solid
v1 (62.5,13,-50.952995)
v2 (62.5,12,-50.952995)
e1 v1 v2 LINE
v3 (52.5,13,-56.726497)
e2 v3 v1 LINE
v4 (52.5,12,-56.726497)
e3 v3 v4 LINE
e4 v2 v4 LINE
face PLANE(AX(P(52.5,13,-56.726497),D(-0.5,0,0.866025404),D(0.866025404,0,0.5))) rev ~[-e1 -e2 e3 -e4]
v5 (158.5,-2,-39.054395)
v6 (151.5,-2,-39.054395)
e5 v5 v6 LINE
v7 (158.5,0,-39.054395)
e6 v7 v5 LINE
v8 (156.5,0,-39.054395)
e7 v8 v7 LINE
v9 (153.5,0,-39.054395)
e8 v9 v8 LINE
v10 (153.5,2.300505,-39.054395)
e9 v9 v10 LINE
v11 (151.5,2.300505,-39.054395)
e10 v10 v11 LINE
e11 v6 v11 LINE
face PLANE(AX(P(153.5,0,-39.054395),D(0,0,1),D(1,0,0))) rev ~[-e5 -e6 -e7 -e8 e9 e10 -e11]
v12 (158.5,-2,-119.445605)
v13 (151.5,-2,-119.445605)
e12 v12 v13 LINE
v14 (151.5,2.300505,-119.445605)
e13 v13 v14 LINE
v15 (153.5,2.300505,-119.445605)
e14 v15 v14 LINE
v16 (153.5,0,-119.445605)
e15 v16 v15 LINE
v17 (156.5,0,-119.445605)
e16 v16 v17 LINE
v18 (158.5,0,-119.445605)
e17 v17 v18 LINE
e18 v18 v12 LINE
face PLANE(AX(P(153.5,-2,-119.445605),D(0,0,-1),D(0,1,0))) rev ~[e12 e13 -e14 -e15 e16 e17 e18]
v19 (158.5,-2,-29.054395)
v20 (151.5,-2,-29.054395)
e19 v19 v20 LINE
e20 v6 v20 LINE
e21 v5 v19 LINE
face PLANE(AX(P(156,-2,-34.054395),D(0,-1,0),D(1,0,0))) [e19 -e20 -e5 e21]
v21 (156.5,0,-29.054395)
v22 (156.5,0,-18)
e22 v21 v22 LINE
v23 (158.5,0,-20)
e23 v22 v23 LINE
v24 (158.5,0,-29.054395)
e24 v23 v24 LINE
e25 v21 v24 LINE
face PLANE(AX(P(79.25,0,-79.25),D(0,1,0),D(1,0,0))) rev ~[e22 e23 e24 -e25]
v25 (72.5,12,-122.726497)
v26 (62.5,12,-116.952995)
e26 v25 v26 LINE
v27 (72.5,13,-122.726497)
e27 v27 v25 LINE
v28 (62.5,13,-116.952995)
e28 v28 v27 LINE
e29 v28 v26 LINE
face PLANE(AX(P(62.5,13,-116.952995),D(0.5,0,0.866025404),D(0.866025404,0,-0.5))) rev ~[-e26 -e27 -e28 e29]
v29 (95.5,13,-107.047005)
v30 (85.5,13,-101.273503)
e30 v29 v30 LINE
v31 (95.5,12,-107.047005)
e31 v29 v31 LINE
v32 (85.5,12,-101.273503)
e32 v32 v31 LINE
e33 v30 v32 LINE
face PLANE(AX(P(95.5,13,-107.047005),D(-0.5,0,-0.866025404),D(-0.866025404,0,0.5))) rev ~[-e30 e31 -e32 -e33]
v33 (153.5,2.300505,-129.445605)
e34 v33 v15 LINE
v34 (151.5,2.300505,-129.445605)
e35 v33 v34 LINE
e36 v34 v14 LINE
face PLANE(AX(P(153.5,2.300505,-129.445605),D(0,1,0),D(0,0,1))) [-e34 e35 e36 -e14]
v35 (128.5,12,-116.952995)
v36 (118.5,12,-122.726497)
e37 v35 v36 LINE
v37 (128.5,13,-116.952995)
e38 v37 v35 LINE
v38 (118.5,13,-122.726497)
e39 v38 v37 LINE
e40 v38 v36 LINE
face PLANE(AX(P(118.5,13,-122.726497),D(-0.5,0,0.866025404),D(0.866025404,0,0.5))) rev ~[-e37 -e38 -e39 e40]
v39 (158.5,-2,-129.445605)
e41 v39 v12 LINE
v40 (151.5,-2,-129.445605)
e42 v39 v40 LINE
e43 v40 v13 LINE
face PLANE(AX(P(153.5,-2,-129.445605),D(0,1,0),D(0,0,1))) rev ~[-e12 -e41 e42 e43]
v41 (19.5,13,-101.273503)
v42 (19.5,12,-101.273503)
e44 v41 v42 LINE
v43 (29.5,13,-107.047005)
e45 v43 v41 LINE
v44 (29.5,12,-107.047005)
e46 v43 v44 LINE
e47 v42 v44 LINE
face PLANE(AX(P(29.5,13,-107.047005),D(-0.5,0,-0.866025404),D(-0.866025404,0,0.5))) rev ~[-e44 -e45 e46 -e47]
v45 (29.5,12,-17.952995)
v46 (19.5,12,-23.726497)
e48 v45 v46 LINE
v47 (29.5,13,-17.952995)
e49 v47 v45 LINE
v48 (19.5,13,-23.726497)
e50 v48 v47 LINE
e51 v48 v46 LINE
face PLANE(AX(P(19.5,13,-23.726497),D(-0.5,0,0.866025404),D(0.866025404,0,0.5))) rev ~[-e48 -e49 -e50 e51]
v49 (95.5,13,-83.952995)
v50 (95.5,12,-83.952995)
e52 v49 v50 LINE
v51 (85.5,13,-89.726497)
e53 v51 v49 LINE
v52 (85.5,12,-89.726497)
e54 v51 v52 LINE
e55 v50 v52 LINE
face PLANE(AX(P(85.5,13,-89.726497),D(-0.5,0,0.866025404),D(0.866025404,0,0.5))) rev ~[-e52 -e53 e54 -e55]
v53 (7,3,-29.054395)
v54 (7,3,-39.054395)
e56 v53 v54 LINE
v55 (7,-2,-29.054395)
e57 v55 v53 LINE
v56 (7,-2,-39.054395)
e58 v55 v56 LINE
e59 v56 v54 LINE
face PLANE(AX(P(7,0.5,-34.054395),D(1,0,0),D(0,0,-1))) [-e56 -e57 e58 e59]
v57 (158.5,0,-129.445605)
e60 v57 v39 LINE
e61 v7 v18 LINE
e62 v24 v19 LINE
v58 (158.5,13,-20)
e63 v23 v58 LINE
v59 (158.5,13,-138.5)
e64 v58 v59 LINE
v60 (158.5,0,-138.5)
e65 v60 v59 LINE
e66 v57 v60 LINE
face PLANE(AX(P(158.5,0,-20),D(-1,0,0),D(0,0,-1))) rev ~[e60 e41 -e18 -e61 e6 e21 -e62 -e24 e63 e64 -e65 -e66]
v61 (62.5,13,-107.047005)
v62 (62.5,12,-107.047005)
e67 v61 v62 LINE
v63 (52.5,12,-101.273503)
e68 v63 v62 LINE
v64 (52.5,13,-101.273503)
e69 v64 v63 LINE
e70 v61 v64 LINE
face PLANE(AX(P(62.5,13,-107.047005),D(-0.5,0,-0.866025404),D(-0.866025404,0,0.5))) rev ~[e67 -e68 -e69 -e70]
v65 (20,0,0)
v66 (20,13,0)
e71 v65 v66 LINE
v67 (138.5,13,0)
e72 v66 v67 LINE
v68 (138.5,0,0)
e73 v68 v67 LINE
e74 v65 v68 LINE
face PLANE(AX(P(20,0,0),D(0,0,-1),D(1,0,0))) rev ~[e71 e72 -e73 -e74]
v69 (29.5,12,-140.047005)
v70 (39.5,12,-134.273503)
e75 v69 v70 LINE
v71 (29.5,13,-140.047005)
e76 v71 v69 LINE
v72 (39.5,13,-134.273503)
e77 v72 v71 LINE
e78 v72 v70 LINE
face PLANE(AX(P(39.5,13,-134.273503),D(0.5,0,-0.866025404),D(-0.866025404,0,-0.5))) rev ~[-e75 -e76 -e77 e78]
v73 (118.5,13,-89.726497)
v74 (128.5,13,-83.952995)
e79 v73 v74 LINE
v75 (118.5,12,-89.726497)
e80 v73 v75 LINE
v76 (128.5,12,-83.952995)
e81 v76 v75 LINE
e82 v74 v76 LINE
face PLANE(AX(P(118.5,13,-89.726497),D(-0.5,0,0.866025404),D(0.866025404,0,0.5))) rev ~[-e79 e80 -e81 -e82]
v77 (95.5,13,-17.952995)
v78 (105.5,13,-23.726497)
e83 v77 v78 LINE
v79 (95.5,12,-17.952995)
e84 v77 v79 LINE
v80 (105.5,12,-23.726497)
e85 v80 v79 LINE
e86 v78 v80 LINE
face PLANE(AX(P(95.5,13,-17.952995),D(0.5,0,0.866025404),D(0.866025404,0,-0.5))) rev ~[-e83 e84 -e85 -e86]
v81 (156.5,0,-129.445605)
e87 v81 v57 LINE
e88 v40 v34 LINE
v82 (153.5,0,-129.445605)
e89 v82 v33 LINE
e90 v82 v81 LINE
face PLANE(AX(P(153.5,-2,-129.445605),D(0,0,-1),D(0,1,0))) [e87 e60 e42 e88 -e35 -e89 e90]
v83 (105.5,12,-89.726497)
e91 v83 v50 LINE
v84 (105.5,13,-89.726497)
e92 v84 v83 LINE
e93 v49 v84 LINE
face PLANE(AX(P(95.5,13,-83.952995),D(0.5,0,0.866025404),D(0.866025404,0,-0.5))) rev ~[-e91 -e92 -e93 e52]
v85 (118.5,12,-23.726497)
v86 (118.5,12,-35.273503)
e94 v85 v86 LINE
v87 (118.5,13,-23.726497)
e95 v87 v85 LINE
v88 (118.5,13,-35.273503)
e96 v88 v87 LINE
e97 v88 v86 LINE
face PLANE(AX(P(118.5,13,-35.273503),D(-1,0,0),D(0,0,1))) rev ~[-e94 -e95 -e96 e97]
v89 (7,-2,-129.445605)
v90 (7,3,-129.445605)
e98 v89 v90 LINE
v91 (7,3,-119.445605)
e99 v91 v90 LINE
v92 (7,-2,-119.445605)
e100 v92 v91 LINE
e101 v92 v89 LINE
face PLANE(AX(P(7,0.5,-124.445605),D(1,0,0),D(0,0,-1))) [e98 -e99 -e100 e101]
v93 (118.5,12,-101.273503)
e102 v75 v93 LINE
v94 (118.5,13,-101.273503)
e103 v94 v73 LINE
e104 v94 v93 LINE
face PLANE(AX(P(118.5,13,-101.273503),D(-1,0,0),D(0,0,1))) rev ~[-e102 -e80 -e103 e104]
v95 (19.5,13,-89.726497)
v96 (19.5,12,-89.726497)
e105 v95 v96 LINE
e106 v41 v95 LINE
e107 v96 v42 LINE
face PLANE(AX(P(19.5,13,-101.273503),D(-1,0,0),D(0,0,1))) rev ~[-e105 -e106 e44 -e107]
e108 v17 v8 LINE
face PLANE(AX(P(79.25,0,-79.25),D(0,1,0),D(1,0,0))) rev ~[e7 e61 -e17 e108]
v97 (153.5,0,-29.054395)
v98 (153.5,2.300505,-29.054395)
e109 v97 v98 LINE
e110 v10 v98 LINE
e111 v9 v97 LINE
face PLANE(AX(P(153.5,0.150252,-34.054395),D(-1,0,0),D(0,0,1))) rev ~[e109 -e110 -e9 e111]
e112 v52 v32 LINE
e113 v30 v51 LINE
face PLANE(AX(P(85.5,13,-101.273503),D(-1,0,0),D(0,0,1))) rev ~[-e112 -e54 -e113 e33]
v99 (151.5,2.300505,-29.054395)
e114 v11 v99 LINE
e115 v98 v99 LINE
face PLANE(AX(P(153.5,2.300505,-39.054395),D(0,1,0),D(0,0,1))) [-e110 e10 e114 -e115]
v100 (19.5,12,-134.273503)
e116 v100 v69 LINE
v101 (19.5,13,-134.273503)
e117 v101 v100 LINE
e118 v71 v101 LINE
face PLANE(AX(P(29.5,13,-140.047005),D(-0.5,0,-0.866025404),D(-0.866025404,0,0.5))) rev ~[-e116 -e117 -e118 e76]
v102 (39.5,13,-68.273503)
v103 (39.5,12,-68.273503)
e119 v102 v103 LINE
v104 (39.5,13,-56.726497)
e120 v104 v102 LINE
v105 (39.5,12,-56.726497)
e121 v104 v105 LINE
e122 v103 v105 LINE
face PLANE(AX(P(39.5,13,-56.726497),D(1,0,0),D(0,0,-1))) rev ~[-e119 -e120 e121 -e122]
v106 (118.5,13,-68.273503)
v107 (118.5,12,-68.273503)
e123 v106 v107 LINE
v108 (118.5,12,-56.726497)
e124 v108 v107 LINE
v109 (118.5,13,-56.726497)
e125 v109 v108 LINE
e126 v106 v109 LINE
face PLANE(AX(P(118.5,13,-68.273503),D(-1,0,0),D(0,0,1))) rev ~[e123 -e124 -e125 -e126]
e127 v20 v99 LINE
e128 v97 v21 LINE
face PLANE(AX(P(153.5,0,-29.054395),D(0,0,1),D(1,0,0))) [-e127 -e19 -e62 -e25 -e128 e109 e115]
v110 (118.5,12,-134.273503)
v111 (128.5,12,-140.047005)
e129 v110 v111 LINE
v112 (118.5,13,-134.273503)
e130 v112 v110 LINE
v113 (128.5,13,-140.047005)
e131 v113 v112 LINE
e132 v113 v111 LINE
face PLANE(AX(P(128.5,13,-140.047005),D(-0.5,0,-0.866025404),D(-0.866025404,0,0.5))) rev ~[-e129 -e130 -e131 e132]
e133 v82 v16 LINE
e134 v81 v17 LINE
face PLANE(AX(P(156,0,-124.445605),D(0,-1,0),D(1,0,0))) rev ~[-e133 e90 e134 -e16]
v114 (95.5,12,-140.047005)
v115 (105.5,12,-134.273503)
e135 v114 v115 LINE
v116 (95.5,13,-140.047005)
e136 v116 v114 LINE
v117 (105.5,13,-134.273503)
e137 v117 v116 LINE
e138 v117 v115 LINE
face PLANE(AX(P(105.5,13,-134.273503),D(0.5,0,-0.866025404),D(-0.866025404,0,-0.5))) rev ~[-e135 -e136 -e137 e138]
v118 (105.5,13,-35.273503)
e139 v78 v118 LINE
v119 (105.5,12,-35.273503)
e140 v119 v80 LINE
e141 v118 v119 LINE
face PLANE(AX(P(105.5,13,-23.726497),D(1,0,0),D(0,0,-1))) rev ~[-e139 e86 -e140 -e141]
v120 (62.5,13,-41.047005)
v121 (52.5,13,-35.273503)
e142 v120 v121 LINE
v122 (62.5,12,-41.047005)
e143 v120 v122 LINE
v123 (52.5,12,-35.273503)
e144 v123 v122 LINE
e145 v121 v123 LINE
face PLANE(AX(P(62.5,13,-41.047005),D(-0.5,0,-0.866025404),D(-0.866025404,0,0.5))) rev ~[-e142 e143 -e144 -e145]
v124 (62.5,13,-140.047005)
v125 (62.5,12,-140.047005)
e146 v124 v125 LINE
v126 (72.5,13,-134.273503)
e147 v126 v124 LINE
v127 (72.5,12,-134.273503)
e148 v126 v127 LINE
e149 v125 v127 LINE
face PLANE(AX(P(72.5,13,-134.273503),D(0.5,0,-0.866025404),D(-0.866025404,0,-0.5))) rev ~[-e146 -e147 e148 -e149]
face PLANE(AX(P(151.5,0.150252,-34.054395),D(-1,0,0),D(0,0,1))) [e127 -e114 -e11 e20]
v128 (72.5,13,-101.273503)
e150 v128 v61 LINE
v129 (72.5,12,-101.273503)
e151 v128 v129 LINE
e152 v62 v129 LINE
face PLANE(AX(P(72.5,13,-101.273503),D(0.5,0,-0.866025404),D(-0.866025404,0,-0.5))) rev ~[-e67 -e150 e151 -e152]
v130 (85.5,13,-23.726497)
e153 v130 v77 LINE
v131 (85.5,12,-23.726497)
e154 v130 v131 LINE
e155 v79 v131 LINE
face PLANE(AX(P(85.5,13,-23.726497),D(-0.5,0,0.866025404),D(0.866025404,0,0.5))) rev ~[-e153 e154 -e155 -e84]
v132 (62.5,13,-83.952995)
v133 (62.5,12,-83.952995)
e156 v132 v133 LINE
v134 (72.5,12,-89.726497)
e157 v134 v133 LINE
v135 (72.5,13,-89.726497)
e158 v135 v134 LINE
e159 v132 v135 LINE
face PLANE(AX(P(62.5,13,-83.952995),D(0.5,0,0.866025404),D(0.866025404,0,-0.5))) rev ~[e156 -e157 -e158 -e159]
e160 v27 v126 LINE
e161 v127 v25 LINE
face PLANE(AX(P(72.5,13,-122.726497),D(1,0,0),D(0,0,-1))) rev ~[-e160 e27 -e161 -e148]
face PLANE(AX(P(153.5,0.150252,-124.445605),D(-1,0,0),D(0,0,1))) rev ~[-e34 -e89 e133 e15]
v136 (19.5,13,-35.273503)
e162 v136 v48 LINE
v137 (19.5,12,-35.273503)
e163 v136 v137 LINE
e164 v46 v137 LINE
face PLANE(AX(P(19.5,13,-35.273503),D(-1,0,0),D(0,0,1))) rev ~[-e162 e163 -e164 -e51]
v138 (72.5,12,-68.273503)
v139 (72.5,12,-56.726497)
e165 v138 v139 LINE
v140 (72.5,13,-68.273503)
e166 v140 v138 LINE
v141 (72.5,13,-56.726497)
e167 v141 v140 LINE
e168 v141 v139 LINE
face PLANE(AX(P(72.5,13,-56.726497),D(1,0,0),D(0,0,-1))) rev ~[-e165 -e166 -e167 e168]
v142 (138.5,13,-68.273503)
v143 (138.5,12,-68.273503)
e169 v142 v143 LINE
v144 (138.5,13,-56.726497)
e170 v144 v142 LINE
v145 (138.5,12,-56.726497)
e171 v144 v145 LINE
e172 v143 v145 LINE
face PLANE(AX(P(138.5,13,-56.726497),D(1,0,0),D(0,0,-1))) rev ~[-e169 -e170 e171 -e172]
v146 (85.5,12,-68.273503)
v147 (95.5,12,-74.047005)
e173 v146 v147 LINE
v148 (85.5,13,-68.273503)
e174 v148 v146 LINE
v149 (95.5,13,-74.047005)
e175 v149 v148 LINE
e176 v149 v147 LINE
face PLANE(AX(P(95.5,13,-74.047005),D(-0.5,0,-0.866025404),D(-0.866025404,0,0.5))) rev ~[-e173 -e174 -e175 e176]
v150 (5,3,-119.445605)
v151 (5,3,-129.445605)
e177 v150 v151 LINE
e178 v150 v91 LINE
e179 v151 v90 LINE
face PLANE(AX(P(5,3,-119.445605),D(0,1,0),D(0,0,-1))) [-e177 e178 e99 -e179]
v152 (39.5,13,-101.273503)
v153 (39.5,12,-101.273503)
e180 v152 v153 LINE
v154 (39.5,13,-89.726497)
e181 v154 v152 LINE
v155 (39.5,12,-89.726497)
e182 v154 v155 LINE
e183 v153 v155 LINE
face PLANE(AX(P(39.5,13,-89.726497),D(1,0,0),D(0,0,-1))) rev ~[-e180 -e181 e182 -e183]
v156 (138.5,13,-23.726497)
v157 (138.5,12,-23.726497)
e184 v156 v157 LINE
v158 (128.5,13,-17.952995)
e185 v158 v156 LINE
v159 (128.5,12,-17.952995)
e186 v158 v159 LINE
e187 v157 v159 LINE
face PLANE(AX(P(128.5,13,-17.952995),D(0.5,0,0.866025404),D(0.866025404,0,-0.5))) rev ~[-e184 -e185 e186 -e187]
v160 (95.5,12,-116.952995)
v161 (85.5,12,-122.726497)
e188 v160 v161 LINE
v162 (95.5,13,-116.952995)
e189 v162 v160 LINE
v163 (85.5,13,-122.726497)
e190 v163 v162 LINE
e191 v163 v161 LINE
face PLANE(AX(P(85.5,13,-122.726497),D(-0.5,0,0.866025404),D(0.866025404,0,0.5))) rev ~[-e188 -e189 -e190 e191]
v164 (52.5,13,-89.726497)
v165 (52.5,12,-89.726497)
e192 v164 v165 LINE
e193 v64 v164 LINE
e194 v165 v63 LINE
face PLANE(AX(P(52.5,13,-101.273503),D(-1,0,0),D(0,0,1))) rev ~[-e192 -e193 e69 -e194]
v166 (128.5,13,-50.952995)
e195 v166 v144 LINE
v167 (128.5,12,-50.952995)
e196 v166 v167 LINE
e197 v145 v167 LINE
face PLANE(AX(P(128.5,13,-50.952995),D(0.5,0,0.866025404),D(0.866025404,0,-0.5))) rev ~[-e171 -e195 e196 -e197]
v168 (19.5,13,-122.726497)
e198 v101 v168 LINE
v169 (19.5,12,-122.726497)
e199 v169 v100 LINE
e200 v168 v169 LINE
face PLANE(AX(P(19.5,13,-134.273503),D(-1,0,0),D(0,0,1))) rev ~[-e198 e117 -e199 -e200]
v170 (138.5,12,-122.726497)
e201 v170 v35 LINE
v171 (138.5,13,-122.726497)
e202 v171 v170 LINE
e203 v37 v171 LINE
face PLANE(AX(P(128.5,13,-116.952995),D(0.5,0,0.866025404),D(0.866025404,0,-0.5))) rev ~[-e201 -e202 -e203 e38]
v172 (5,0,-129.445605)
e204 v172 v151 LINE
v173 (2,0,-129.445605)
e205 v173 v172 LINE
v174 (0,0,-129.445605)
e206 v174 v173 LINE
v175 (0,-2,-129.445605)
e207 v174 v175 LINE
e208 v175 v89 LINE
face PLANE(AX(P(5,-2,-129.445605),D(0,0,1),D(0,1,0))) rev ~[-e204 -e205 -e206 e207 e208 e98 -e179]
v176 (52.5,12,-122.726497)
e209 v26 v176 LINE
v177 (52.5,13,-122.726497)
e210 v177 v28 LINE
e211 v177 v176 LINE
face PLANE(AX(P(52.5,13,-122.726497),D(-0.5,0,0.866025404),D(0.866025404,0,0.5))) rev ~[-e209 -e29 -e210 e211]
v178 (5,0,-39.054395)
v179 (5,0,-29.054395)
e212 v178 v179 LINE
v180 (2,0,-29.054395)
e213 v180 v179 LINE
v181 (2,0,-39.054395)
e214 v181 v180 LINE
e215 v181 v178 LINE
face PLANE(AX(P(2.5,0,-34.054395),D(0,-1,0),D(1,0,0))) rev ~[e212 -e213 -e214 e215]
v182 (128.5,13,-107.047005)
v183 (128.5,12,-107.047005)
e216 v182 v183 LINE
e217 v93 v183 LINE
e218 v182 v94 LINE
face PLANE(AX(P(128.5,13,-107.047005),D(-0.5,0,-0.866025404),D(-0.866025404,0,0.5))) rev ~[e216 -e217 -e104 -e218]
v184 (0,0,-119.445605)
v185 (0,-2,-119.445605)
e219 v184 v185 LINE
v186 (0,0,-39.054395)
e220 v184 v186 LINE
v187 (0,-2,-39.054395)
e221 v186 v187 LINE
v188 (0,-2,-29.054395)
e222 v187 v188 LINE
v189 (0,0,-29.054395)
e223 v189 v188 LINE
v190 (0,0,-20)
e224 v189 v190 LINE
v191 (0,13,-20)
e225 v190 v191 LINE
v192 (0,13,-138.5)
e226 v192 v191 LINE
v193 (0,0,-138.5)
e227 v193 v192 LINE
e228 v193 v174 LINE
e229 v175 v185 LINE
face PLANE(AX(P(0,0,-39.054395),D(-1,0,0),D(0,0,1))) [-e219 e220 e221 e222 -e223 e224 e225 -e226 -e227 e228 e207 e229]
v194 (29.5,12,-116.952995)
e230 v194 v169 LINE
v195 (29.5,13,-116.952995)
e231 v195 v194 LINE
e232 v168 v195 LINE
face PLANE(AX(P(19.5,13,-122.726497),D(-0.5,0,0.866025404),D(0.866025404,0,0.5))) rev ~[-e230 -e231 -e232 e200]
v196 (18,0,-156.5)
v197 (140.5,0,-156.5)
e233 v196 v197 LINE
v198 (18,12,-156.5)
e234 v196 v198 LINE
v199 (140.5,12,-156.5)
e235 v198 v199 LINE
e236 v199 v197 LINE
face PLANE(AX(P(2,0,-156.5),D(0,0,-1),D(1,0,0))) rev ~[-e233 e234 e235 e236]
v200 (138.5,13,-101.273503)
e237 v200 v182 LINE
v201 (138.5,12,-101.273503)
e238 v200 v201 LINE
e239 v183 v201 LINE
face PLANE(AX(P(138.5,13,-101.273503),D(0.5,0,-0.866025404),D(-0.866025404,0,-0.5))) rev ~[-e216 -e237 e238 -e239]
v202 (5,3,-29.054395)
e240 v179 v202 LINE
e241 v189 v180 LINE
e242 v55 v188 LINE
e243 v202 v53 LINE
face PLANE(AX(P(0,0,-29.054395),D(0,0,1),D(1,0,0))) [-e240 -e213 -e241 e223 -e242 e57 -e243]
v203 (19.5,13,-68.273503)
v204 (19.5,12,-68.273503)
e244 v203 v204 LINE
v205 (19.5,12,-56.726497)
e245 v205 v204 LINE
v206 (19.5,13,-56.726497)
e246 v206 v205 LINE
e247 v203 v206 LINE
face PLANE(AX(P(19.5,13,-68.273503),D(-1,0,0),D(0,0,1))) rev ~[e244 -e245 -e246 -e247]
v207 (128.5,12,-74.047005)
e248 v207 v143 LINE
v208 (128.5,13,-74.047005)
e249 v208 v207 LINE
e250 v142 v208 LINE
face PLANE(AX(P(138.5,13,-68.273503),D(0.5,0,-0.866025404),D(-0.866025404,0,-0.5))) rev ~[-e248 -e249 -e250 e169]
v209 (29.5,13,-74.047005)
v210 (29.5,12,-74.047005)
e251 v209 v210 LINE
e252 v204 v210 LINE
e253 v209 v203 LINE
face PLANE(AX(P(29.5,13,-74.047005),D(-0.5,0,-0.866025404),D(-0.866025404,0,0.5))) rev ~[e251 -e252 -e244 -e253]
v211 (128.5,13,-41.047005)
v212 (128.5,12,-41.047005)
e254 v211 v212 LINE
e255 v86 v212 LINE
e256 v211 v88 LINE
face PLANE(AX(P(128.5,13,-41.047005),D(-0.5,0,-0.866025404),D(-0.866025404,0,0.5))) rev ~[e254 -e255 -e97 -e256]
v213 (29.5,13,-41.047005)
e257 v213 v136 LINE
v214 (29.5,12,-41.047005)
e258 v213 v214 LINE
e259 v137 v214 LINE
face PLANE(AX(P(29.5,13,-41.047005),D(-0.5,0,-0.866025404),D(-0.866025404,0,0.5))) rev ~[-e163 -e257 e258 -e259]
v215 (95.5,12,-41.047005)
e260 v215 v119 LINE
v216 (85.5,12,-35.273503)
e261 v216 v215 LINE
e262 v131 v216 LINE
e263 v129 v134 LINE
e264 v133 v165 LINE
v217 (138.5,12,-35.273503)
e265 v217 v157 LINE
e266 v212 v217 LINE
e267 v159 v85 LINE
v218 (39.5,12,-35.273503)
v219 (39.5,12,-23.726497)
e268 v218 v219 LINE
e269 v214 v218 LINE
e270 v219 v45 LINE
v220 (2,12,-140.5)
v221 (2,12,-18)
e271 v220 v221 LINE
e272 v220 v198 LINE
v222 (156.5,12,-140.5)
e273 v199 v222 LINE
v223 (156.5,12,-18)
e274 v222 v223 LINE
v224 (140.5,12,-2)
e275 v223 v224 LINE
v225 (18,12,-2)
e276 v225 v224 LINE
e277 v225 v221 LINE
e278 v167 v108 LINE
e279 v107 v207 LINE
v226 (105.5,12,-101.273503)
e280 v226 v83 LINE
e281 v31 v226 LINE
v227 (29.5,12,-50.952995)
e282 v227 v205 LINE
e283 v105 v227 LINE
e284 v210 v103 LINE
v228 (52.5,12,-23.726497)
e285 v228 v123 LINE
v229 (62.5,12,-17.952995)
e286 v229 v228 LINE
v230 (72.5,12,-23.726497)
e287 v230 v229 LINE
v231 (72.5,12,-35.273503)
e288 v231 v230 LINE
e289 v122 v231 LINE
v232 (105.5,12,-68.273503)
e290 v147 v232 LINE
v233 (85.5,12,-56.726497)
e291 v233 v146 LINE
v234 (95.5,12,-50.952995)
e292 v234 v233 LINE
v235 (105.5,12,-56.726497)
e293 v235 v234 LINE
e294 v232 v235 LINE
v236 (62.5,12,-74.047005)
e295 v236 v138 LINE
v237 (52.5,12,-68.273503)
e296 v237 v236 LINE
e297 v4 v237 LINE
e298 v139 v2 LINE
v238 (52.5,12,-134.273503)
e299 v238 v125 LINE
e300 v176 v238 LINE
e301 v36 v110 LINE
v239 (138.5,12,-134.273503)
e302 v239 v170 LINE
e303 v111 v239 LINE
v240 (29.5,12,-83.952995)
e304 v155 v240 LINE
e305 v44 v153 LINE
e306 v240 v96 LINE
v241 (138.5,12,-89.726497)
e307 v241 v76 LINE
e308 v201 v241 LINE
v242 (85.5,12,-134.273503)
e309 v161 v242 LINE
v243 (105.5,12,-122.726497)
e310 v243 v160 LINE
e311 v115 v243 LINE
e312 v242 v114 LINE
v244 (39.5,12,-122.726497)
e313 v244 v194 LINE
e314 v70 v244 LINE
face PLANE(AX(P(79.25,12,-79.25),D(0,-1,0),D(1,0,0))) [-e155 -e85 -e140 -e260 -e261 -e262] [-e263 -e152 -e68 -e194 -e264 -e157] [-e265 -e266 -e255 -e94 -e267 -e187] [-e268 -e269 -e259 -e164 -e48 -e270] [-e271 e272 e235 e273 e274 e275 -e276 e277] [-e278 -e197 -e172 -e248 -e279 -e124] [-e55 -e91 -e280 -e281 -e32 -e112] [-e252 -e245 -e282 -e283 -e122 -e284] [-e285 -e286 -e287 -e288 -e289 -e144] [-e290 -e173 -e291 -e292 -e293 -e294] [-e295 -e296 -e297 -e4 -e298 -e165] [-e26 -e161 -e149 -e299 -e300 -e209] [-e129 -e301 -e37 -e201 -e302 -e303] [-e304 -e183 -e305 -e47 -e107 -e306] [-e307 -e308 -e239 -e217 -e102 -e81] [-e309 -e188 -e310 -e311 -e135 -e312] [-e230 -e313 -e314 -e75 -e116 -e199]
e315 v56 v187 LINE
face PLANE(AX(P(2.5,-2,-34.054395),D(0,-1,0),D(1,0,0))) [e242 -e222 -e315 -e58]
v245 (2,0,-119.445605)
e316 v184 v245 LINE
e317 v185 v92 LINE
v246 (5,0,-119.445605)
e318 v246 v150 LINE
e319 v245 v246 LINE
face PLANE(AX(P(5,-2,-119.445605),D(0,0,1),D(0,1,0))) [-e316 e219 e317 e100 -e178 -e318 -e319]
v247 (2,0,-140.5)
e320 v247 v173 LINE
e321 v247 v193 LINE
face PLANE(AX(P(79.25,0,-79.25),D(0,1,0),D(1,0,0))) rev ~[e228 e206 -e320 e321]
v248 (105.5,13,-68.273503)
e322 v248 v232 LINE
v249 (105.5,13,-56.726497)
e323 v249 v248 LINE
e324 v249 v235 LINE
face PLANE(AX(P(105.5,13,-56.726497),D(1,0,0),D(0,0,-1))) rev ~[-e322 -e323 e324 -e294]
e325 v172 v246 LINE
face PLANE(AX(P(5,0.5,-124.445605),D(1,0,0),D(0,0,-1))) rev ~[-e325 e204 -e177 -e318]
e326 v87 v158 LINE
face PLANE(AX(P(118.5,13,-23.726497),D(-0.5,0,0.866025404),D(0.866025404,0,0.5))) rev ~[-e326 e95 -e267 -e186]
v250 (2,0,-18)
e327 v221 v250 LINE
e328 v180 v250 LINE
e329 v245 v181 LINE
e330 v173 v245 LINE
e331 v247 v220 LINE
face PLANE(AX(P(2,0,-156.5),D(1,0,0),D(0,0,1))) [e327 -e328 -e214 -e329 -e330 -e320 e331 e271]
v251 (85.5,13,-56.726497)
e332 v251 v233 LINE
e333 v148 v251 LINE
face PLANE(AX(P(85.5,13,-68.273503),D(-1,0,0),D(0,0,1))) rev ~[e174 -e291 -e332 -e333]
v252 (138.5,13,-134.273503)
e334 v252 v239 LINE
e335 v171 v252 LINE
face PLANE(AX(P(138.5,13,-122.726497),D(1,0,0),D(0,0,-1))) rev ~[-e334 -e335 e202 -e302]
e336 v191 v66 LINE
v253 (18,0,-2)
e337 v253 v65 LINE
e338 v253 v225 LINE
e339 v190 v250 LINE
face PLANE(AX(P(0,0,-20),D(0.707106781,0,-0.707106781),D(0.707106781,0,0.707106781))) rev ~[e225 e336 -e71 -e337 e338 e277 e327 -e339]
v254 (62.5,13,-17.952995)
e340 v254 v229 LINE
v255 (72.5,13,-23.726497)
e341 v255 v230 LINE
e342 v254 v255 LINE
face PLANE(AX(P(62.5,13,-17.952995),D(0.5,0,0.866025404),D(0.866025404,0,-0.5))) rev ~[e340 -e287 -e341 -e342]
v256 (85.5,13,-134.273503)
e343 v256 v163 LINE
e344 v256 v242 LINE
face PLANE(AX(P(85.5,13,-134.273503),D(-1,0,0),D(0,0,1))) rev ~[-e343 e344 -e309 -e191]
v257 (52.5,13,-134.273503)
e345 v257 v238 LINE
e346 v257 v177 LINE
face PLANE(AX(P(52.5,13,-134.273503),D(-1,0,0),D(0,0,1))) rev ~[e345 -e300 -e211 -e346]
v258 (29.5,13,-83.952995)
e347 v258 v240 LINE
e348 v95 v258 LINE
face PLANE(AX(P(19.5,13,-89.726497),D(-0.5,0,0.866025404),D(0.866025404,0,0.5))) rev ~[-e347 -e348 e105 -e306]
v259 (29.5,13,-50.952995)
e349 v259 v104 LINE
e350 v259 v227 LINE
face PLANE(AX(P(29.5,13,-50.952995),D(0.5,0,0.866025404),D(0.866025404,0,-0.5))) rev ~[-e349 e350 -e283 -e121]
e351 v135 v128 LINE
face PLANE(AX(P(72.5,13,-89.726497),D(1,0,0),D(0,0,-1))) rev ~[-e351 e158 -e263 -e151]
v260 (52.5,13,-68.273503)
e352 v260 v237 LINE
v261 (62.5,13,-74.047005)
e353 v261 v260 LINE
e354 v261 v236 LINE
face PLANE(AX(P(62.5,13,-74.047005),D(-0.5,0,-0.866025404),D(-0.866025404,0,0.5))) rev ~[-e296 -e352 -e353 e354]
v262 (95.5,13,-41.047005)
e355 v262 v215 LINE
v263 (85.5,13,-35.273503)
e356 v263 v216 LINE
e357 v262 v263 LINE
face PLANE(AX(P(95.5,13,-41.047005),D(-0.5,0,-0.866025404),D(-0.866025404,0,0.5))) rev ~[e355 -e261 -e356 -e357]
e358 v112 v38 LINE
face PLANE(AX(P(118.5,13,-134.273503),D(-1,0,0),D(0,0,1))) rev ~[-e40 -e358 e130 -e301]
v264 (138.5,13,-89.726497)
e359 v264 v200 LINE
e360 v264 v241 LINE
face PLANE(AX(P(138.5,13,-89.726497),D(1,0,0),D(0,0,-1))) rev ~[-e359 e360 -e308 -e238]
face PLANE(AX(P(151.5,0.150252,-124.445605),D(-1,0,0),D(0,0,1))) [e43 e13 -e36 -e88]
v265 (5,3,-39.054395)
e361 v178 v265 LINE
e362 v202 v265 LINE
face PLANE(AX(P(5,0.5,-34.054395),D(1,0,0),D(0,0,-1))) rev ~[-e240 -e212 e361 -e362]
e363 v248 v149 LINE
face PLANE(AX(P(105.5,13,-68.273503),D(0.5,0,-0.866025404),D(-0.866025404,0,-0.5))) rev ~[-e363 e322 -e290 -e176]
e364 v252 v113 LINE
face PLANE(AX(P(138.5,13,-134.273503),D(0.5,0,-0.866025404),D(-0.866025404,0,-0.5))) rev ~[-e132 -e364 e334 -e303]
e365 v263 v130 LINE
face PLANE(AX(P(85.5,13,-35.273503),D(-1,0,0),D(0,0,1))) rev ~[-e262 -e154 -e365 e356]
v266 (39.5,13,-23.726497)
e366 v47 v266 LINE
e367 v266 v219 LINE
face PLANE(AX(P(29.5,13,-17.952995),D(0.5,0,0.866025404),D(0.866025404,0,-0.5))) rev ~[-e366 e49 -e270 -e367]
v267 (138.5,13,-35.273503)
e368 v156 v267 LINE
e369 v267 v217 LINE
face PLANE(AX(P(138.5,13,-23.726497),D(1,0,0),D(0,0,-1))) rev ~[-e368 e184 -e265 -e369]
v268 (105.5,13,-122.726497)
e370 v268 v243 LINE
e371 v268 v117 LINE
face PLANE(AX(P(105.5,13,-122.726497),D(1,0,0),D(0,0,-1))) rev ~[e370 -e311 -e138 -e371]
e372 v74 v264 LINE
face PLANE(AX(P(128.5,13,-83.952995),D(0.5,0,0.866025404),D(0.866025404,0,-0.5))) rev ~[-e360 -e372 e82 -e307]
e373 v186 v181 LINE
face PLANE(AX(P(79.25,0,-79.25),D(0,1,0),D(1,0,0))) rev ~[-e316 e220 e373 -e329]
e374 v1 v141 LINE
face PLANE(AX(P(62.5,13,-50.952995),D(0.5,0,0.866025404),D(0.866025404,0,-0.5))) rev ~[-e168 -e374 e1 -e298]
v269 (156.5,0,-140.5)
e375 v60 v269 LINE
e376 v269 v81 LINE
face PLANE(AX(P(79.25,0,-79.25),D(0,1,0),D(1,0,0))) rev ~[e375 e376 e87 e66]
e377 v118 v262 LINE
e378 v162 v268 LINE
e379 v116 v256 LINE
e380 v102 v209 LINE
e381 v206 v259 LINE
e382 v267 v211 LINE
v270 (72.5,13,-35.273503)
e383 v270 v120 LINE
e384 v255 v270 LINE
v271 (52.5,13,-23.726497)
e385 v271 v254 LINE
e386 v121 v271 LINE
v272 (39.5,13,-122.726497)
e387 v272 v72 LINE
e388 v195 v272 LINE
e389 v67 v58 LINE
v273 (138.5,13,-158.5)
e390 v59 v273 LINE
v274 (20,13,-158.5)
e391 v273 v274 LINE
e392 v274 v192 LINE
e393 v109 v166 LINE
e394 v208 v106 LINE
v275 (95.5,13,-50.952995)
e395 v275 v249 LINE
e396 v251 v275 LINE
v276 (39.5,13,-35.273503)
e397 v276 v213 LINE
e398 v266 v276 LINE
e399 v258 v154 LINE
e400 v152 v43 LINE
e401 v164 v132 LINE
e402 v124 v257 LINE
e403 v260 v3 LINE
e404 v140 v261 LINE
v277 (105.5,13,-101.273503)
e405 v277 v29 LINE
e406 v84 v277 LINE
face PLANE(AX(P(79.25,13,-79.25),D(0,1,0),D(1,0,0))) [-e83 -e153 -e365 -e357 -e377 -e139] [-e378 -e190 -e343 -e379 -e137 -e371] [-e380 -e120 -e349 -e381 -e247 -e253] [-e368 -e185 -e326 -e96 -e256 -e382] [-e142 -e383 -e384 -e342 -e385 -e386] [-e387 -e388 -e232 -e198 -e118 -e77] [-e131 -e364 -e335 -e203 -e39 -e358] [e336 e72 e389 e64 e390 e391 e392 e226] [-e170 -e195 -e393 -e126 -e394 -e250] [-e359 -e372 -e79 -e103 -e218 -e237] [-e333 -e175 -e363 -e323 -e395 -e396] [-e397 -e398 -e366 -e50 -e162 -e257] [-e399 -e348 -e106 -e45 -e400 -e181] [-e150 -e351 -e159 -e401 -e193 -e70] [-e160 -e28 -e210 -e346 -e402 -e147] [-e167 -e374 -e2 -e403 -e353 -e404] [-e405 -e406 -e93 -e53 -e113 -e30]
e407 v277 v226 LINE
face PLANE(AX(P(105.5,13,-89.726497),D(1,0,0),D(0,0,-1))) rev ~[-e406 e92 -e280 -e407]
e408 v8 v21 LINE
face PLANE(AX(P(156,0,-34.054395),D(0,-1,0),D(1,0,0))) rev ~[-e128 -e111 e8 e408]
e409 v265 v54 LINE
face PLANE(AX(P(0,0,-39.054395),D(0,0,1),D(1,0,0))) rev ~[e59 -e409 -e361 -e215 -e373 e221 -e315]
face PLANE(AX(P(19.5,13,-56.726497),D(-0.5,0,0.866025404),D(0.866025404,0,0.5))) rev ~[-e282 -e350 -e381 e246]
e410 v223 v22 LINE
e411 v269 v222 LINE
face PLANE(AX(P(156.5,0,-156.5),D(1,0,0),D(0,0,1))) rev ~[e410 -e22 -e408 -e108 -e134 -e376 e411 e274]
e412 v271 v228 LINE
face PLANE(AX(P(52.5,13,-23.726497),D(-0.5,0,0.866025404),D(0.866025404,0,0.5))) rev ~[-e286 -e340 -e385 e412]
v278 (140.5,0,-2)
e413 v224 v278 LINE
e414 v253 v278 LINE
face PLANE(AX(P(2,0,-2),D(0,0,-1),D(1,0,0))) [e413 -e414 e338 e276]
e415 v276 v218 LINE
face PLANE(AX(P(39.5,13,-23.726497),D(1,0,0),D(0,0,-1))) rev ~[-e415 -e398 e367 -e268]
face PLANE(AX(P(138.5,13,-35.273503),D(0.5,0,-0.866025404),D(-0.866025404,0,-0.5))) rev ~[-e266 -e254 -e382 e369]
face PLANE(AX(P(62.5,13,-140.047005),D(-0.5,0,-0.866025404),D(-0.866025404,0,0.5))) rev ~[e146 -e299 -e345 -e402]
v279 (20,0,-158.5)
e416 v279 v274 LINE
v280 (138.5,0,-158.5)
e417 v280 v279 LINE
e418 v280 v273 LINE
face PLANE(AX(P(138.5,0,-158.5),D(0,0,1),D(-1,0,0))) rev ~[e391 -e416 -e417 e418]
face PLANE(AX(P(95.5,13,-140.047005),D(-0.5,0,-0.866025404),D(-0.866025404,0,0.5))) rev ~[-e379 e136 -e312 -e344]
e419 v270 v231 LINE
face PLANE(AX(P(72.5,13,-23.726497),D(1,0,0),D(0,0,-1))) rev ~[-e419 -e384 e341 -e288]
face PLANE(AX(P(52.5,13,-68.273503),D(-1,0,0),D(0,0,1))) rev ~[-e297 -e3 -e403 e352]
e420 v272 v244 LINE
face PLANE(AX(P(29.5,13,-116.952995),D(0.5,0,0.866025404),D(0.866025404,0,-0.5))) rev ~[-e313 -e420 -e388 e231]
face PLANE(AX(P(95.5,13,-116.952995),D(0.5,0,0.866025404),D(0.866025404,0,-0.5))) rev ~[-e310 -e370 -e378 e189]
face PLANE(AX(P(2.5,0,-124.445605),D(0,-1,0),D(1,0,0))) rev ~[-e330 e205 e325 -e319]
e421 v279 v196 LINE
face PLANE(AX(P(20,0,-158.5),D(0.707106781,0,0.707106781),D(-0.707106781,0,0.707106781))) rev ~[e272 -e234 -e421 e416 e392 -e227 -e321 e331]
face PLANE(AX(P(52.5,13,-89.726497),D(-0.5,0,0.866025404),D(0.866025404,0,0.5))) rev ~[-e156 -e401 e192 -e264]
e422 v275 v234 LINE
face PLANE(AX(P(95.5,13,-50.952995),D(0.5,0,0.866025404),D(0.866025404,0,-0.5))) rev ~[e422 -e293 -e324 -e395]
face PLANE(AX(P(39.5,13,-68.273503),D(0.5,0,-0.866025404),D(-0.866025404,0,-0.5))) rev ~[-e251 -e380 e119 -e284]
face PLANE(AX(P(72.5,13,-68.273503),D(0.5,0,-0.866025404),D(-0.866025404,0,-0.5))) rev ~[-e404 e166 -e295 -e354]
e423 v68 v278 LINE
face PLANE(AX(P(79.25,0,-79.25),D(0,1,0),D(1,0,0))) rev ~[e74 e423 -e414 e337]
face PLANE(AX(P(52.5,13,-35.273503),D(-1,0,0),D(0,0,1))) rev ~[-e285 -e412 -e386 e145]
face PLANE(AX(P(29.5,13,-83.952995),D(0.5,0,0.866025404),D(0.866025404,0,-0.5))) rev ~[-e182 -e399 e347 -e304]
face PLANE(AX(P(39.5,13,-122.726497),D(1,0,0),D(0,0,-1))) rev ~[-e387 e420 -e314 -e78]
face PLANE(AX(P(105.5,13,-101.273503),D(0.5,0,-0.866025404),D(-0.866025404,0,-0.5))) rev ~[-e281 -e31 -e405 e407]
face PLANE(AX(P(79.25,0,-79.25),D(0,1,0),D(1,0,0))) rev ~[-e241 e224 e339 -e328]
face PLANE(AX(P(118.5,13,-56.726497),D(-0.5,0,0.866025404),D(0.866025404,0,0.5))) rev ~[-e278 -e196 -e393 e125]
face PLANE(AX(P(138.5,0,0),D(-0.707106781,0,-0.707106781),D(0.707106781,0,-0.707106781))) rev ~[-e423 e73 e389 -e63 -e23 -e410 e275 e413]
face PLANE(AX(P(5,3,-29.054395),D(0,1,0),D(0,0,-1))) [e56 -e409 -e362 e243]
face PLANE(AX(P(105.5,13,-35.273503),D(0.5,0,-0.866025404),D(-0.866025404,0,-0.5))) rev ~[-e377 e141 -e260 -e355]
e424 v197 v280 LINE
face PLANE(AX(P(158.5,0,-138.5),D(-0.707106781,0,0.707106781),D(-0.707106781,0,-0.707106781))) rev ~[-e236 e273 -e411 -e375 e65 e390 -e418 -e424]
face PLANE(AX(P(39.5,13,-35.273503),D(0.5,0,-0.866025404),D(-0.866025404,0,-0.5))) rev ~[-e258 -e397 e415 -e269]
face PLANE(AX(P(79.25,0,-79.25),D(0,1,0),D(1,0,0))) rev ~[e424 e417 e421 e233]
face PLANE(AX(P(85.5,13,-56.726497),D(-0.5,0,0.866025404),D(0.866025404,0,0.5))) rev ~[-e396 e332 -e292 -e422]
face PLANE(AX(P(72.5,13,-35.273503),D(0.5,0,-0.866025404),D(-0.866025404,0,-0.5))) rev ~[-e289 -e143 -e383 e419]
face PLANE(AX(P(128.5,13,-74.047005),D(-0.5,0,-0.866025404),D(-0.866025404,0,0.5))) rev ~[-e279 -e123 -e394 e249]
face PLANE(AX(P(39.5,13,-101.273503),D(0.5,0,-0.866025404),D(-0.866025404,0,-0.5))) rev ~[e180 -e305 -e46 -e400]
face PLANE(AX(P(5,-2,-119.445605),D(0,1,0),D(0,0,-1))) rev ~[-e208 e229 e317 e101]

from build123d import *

# Parameters (mm, degrees)
BOSS_EXTRUDE1_DEPTH = 13
SKETCH5_W           = 154.5
SKETCH5_H           = 154.5
CUT_EXTRUDE3_DEPTH  = 12
CUT_EXTRUDE4_DEPTH  = 11
SKETCH8_W           = 5
SKETCH8_H           = 10
BOSS_EXTRUDE2_DEPTH = 2
SKETCH9_W           = 10
SKETCH9_H           = 5
BOSS_EXTRUDE3_DEPTH = 2
SKETCH11_W          = 10
SKETCH11_H          = 4.300504792
BOSS_EXTRUDE4_DEPTH = 2


with BuildPart() as part:
    # Sketch1 → Boss-Extrude1 (new body)
    with BuildSketch(Plane(origin=(0, 0, 0), x_dir=(1, 0, 0), z_dir=(0, 1, 0))):
        Polygon((20, 158.5), (0, 138.5), (0, 20), (20, 0), (138.5, 0), (158.5, 20), (158.5, 138.5), (138.5, 158.5), align=None)
    extrude(amount=BOSS_EXTRUDE1_DEPTH)

    # Sketch5 → Cut-Extrude3 (cut)
    with BuildSketch(Plane.XZ):
        with Locations((79.25, -79.25)):
            Rectangle(SKETCH5_W, SKETCH5_H)
    extrude(amount=-CUT_EXTRUDE3_DEPTH, mode=Mode.SUBTRACT)

    # Sketch7 → Cut-Extrude4 (cut)
    with BuildSketch(Plane(origin=(0, 13, 0), x_dir=(1, 0, 0), z_dir=(0, 1, 0))):
        Polygon((138.5, 122.726497308), (138.5, 134.273502692), (128.5, 140.047005384), (118.5, 134.273502692), (118.5, 122.726497308), (128.5, 116.952994616), align=None)
        Polygon((105.5, 122.726497308), (105.5, 134.273502692), (95.5, 140.047005384), (85.5, 134.273502692), (85.5, 122.726497308), (95.5, 116.952994616), align=None)
        Polygon((72.5, 122.726497308), (72.5, 134.273502692), (62.5, 140.047005384), (52.5, 134.273502692), (52.5, 122.726497308), (62.5, 116.952994616), align=None)
        Polygon((39.5, 122.726497308), (39.5, 134.273502692), (29.5, 140.047005384), (19.5, 134.273502692), (19.5, 122.726497308), (29.5, 116.952994616), align=None)
        Polygon((105.5, 89.726497308), (105.5, 101.273502692), (95.5, 107.047005384), (85.5, 101.273502692), (85.5, 89.726497308), (95.5, 83.952994616), align=None)
        Polygon((72.5, 89.726497308), (72.5, 101.273502692), (62.5, 107.047005384), (52.5, 101.273502692), (52.5, 89.726497308), (62.5, 83.952994616), align=None)
        Polygon((39.5, 89.726497308), (39.5, 101.273502692), (29.5, 107.047005384), (19.5, 101.273502692), (19.5, 89.726497308), (29.5, 83.952994616), align=None)
        Polygon((105.5, 56.726497308), (105.5, 68.273502692), (95.5, 74.047005384), (85.5, 68.273502692), (85.5, 56.726497308), (95.5, 50.952994616), align=None)
        Polygon((72.5, 56.726497308), (72.5, 68.273502692), (62.5, 74.047005384), (52.5, 68.273502692), (52.5, 56.726497308), (62.5, 50.952994616), align=None)
        Polygon((39.5, 56.726497308), (39.5, 68.273502692), (29.5, 74.047005384), (19.5, 68.273502692), (19.5, 56.726497308), (29.5, 50.952994616), align=None)
        Polygon((105.5, 23.726497308), (105.5, 35.273502692), (95.5, 41.047005384), (85.5, 35.273502692), (85.5, 23.726497308), (95.5, 17.952994616), align=None)
        Polygon((72.5, 23.726497308), (72.5, 35.273502692), (62.5, 41.047005384), (52.5, 35.273502692), (52.5, 23.726497308), (62.5, 17.952994616), align=None)
        Polygon((39.5, 23.726497308), (39.5, 35.273502692), (29.5, 41.047005384), (19.5, 35.273502692), (19.5, 23.726497308), (29.5, 17.952994616), align=None)
        Polygon((138.5, 89.726497308), (138.5, 101.273502692), (128.5, 107.047005384), (118.5, 101.273502692), (118.5, 89.726497308), (128.5, 83.952994616), align=None)
        Polygon((138.5, 56.726497308), (138.5, 68.273502692), (128.5, 74.047005384), (118.5, 68.273502692), (118.5, 56.726497308), (128.5, 50.952994616), align=None)
        Polygon((138.5, 23.726497308), (138.5, 35.273502692), (128.5, 41.047005384), (118.5, 35.273502692), (118.5, 23.726497308), (128.5, 17.952994616), align=None)
    extrude(amount=-CUT_EXTRUDE4_DEPTH, mode=Mode.SUBTRACT)

    # Sketch8 → Boss-Extrude2 (add)
    with BuildSketch(Plane.XZ):
        with Locations((2.5, -34.05439508)):
            Rectangle(SKETCH8_W, SKETCH8_H)
        with Locations((2.5, -124.44560492)):
            Rectangle(SKETCH8_W, SKETCH8_H)
        with Locations((156, -124.44560492)):
            Rectangle(SKETCH8_W, SKETCH8_H)
        with Locations((156, -34.05439508)):
            Rectangle(SKETCH8_W, SKETCH8_H)
    extrude(amount=BOSS_EXTRUDE2_DEPTH)

    # Sketch9 → Boss-Extrude3 (add)
    with BuildSketch(Plane(origin=(5, 0, 0), x_dir=(0, 0, -1), z_dir=(1, 0, 0))):
        with Locations((124.44560492, 0.5)):
            Rectangle(SKETCH9_W, SKETCH9_H)
        with Locations((34.05439508, 0.5)):
            Rectangle(SKETCH9_W, SKETCH9_H)
    extrude(amount=BOSS_EXTRUDE3_DEPTH)

    # Sketch11 → Boss-Extrude4 (add)
    with BuildSketch(Plane.ZY.offset(-153.5)):
        with Locations((-124.44560492, 0.150252396)):
            Rectangle(SKETCH11_W, SKETCH11_H)
        with Locations((-34.05439508, 0.150252396)):
            Rectangle(SKETCH11_W, SKETCH11_H)
    extrude(amount=BOSS_EXTRUDE4_DEPTH)


solid = part.part
